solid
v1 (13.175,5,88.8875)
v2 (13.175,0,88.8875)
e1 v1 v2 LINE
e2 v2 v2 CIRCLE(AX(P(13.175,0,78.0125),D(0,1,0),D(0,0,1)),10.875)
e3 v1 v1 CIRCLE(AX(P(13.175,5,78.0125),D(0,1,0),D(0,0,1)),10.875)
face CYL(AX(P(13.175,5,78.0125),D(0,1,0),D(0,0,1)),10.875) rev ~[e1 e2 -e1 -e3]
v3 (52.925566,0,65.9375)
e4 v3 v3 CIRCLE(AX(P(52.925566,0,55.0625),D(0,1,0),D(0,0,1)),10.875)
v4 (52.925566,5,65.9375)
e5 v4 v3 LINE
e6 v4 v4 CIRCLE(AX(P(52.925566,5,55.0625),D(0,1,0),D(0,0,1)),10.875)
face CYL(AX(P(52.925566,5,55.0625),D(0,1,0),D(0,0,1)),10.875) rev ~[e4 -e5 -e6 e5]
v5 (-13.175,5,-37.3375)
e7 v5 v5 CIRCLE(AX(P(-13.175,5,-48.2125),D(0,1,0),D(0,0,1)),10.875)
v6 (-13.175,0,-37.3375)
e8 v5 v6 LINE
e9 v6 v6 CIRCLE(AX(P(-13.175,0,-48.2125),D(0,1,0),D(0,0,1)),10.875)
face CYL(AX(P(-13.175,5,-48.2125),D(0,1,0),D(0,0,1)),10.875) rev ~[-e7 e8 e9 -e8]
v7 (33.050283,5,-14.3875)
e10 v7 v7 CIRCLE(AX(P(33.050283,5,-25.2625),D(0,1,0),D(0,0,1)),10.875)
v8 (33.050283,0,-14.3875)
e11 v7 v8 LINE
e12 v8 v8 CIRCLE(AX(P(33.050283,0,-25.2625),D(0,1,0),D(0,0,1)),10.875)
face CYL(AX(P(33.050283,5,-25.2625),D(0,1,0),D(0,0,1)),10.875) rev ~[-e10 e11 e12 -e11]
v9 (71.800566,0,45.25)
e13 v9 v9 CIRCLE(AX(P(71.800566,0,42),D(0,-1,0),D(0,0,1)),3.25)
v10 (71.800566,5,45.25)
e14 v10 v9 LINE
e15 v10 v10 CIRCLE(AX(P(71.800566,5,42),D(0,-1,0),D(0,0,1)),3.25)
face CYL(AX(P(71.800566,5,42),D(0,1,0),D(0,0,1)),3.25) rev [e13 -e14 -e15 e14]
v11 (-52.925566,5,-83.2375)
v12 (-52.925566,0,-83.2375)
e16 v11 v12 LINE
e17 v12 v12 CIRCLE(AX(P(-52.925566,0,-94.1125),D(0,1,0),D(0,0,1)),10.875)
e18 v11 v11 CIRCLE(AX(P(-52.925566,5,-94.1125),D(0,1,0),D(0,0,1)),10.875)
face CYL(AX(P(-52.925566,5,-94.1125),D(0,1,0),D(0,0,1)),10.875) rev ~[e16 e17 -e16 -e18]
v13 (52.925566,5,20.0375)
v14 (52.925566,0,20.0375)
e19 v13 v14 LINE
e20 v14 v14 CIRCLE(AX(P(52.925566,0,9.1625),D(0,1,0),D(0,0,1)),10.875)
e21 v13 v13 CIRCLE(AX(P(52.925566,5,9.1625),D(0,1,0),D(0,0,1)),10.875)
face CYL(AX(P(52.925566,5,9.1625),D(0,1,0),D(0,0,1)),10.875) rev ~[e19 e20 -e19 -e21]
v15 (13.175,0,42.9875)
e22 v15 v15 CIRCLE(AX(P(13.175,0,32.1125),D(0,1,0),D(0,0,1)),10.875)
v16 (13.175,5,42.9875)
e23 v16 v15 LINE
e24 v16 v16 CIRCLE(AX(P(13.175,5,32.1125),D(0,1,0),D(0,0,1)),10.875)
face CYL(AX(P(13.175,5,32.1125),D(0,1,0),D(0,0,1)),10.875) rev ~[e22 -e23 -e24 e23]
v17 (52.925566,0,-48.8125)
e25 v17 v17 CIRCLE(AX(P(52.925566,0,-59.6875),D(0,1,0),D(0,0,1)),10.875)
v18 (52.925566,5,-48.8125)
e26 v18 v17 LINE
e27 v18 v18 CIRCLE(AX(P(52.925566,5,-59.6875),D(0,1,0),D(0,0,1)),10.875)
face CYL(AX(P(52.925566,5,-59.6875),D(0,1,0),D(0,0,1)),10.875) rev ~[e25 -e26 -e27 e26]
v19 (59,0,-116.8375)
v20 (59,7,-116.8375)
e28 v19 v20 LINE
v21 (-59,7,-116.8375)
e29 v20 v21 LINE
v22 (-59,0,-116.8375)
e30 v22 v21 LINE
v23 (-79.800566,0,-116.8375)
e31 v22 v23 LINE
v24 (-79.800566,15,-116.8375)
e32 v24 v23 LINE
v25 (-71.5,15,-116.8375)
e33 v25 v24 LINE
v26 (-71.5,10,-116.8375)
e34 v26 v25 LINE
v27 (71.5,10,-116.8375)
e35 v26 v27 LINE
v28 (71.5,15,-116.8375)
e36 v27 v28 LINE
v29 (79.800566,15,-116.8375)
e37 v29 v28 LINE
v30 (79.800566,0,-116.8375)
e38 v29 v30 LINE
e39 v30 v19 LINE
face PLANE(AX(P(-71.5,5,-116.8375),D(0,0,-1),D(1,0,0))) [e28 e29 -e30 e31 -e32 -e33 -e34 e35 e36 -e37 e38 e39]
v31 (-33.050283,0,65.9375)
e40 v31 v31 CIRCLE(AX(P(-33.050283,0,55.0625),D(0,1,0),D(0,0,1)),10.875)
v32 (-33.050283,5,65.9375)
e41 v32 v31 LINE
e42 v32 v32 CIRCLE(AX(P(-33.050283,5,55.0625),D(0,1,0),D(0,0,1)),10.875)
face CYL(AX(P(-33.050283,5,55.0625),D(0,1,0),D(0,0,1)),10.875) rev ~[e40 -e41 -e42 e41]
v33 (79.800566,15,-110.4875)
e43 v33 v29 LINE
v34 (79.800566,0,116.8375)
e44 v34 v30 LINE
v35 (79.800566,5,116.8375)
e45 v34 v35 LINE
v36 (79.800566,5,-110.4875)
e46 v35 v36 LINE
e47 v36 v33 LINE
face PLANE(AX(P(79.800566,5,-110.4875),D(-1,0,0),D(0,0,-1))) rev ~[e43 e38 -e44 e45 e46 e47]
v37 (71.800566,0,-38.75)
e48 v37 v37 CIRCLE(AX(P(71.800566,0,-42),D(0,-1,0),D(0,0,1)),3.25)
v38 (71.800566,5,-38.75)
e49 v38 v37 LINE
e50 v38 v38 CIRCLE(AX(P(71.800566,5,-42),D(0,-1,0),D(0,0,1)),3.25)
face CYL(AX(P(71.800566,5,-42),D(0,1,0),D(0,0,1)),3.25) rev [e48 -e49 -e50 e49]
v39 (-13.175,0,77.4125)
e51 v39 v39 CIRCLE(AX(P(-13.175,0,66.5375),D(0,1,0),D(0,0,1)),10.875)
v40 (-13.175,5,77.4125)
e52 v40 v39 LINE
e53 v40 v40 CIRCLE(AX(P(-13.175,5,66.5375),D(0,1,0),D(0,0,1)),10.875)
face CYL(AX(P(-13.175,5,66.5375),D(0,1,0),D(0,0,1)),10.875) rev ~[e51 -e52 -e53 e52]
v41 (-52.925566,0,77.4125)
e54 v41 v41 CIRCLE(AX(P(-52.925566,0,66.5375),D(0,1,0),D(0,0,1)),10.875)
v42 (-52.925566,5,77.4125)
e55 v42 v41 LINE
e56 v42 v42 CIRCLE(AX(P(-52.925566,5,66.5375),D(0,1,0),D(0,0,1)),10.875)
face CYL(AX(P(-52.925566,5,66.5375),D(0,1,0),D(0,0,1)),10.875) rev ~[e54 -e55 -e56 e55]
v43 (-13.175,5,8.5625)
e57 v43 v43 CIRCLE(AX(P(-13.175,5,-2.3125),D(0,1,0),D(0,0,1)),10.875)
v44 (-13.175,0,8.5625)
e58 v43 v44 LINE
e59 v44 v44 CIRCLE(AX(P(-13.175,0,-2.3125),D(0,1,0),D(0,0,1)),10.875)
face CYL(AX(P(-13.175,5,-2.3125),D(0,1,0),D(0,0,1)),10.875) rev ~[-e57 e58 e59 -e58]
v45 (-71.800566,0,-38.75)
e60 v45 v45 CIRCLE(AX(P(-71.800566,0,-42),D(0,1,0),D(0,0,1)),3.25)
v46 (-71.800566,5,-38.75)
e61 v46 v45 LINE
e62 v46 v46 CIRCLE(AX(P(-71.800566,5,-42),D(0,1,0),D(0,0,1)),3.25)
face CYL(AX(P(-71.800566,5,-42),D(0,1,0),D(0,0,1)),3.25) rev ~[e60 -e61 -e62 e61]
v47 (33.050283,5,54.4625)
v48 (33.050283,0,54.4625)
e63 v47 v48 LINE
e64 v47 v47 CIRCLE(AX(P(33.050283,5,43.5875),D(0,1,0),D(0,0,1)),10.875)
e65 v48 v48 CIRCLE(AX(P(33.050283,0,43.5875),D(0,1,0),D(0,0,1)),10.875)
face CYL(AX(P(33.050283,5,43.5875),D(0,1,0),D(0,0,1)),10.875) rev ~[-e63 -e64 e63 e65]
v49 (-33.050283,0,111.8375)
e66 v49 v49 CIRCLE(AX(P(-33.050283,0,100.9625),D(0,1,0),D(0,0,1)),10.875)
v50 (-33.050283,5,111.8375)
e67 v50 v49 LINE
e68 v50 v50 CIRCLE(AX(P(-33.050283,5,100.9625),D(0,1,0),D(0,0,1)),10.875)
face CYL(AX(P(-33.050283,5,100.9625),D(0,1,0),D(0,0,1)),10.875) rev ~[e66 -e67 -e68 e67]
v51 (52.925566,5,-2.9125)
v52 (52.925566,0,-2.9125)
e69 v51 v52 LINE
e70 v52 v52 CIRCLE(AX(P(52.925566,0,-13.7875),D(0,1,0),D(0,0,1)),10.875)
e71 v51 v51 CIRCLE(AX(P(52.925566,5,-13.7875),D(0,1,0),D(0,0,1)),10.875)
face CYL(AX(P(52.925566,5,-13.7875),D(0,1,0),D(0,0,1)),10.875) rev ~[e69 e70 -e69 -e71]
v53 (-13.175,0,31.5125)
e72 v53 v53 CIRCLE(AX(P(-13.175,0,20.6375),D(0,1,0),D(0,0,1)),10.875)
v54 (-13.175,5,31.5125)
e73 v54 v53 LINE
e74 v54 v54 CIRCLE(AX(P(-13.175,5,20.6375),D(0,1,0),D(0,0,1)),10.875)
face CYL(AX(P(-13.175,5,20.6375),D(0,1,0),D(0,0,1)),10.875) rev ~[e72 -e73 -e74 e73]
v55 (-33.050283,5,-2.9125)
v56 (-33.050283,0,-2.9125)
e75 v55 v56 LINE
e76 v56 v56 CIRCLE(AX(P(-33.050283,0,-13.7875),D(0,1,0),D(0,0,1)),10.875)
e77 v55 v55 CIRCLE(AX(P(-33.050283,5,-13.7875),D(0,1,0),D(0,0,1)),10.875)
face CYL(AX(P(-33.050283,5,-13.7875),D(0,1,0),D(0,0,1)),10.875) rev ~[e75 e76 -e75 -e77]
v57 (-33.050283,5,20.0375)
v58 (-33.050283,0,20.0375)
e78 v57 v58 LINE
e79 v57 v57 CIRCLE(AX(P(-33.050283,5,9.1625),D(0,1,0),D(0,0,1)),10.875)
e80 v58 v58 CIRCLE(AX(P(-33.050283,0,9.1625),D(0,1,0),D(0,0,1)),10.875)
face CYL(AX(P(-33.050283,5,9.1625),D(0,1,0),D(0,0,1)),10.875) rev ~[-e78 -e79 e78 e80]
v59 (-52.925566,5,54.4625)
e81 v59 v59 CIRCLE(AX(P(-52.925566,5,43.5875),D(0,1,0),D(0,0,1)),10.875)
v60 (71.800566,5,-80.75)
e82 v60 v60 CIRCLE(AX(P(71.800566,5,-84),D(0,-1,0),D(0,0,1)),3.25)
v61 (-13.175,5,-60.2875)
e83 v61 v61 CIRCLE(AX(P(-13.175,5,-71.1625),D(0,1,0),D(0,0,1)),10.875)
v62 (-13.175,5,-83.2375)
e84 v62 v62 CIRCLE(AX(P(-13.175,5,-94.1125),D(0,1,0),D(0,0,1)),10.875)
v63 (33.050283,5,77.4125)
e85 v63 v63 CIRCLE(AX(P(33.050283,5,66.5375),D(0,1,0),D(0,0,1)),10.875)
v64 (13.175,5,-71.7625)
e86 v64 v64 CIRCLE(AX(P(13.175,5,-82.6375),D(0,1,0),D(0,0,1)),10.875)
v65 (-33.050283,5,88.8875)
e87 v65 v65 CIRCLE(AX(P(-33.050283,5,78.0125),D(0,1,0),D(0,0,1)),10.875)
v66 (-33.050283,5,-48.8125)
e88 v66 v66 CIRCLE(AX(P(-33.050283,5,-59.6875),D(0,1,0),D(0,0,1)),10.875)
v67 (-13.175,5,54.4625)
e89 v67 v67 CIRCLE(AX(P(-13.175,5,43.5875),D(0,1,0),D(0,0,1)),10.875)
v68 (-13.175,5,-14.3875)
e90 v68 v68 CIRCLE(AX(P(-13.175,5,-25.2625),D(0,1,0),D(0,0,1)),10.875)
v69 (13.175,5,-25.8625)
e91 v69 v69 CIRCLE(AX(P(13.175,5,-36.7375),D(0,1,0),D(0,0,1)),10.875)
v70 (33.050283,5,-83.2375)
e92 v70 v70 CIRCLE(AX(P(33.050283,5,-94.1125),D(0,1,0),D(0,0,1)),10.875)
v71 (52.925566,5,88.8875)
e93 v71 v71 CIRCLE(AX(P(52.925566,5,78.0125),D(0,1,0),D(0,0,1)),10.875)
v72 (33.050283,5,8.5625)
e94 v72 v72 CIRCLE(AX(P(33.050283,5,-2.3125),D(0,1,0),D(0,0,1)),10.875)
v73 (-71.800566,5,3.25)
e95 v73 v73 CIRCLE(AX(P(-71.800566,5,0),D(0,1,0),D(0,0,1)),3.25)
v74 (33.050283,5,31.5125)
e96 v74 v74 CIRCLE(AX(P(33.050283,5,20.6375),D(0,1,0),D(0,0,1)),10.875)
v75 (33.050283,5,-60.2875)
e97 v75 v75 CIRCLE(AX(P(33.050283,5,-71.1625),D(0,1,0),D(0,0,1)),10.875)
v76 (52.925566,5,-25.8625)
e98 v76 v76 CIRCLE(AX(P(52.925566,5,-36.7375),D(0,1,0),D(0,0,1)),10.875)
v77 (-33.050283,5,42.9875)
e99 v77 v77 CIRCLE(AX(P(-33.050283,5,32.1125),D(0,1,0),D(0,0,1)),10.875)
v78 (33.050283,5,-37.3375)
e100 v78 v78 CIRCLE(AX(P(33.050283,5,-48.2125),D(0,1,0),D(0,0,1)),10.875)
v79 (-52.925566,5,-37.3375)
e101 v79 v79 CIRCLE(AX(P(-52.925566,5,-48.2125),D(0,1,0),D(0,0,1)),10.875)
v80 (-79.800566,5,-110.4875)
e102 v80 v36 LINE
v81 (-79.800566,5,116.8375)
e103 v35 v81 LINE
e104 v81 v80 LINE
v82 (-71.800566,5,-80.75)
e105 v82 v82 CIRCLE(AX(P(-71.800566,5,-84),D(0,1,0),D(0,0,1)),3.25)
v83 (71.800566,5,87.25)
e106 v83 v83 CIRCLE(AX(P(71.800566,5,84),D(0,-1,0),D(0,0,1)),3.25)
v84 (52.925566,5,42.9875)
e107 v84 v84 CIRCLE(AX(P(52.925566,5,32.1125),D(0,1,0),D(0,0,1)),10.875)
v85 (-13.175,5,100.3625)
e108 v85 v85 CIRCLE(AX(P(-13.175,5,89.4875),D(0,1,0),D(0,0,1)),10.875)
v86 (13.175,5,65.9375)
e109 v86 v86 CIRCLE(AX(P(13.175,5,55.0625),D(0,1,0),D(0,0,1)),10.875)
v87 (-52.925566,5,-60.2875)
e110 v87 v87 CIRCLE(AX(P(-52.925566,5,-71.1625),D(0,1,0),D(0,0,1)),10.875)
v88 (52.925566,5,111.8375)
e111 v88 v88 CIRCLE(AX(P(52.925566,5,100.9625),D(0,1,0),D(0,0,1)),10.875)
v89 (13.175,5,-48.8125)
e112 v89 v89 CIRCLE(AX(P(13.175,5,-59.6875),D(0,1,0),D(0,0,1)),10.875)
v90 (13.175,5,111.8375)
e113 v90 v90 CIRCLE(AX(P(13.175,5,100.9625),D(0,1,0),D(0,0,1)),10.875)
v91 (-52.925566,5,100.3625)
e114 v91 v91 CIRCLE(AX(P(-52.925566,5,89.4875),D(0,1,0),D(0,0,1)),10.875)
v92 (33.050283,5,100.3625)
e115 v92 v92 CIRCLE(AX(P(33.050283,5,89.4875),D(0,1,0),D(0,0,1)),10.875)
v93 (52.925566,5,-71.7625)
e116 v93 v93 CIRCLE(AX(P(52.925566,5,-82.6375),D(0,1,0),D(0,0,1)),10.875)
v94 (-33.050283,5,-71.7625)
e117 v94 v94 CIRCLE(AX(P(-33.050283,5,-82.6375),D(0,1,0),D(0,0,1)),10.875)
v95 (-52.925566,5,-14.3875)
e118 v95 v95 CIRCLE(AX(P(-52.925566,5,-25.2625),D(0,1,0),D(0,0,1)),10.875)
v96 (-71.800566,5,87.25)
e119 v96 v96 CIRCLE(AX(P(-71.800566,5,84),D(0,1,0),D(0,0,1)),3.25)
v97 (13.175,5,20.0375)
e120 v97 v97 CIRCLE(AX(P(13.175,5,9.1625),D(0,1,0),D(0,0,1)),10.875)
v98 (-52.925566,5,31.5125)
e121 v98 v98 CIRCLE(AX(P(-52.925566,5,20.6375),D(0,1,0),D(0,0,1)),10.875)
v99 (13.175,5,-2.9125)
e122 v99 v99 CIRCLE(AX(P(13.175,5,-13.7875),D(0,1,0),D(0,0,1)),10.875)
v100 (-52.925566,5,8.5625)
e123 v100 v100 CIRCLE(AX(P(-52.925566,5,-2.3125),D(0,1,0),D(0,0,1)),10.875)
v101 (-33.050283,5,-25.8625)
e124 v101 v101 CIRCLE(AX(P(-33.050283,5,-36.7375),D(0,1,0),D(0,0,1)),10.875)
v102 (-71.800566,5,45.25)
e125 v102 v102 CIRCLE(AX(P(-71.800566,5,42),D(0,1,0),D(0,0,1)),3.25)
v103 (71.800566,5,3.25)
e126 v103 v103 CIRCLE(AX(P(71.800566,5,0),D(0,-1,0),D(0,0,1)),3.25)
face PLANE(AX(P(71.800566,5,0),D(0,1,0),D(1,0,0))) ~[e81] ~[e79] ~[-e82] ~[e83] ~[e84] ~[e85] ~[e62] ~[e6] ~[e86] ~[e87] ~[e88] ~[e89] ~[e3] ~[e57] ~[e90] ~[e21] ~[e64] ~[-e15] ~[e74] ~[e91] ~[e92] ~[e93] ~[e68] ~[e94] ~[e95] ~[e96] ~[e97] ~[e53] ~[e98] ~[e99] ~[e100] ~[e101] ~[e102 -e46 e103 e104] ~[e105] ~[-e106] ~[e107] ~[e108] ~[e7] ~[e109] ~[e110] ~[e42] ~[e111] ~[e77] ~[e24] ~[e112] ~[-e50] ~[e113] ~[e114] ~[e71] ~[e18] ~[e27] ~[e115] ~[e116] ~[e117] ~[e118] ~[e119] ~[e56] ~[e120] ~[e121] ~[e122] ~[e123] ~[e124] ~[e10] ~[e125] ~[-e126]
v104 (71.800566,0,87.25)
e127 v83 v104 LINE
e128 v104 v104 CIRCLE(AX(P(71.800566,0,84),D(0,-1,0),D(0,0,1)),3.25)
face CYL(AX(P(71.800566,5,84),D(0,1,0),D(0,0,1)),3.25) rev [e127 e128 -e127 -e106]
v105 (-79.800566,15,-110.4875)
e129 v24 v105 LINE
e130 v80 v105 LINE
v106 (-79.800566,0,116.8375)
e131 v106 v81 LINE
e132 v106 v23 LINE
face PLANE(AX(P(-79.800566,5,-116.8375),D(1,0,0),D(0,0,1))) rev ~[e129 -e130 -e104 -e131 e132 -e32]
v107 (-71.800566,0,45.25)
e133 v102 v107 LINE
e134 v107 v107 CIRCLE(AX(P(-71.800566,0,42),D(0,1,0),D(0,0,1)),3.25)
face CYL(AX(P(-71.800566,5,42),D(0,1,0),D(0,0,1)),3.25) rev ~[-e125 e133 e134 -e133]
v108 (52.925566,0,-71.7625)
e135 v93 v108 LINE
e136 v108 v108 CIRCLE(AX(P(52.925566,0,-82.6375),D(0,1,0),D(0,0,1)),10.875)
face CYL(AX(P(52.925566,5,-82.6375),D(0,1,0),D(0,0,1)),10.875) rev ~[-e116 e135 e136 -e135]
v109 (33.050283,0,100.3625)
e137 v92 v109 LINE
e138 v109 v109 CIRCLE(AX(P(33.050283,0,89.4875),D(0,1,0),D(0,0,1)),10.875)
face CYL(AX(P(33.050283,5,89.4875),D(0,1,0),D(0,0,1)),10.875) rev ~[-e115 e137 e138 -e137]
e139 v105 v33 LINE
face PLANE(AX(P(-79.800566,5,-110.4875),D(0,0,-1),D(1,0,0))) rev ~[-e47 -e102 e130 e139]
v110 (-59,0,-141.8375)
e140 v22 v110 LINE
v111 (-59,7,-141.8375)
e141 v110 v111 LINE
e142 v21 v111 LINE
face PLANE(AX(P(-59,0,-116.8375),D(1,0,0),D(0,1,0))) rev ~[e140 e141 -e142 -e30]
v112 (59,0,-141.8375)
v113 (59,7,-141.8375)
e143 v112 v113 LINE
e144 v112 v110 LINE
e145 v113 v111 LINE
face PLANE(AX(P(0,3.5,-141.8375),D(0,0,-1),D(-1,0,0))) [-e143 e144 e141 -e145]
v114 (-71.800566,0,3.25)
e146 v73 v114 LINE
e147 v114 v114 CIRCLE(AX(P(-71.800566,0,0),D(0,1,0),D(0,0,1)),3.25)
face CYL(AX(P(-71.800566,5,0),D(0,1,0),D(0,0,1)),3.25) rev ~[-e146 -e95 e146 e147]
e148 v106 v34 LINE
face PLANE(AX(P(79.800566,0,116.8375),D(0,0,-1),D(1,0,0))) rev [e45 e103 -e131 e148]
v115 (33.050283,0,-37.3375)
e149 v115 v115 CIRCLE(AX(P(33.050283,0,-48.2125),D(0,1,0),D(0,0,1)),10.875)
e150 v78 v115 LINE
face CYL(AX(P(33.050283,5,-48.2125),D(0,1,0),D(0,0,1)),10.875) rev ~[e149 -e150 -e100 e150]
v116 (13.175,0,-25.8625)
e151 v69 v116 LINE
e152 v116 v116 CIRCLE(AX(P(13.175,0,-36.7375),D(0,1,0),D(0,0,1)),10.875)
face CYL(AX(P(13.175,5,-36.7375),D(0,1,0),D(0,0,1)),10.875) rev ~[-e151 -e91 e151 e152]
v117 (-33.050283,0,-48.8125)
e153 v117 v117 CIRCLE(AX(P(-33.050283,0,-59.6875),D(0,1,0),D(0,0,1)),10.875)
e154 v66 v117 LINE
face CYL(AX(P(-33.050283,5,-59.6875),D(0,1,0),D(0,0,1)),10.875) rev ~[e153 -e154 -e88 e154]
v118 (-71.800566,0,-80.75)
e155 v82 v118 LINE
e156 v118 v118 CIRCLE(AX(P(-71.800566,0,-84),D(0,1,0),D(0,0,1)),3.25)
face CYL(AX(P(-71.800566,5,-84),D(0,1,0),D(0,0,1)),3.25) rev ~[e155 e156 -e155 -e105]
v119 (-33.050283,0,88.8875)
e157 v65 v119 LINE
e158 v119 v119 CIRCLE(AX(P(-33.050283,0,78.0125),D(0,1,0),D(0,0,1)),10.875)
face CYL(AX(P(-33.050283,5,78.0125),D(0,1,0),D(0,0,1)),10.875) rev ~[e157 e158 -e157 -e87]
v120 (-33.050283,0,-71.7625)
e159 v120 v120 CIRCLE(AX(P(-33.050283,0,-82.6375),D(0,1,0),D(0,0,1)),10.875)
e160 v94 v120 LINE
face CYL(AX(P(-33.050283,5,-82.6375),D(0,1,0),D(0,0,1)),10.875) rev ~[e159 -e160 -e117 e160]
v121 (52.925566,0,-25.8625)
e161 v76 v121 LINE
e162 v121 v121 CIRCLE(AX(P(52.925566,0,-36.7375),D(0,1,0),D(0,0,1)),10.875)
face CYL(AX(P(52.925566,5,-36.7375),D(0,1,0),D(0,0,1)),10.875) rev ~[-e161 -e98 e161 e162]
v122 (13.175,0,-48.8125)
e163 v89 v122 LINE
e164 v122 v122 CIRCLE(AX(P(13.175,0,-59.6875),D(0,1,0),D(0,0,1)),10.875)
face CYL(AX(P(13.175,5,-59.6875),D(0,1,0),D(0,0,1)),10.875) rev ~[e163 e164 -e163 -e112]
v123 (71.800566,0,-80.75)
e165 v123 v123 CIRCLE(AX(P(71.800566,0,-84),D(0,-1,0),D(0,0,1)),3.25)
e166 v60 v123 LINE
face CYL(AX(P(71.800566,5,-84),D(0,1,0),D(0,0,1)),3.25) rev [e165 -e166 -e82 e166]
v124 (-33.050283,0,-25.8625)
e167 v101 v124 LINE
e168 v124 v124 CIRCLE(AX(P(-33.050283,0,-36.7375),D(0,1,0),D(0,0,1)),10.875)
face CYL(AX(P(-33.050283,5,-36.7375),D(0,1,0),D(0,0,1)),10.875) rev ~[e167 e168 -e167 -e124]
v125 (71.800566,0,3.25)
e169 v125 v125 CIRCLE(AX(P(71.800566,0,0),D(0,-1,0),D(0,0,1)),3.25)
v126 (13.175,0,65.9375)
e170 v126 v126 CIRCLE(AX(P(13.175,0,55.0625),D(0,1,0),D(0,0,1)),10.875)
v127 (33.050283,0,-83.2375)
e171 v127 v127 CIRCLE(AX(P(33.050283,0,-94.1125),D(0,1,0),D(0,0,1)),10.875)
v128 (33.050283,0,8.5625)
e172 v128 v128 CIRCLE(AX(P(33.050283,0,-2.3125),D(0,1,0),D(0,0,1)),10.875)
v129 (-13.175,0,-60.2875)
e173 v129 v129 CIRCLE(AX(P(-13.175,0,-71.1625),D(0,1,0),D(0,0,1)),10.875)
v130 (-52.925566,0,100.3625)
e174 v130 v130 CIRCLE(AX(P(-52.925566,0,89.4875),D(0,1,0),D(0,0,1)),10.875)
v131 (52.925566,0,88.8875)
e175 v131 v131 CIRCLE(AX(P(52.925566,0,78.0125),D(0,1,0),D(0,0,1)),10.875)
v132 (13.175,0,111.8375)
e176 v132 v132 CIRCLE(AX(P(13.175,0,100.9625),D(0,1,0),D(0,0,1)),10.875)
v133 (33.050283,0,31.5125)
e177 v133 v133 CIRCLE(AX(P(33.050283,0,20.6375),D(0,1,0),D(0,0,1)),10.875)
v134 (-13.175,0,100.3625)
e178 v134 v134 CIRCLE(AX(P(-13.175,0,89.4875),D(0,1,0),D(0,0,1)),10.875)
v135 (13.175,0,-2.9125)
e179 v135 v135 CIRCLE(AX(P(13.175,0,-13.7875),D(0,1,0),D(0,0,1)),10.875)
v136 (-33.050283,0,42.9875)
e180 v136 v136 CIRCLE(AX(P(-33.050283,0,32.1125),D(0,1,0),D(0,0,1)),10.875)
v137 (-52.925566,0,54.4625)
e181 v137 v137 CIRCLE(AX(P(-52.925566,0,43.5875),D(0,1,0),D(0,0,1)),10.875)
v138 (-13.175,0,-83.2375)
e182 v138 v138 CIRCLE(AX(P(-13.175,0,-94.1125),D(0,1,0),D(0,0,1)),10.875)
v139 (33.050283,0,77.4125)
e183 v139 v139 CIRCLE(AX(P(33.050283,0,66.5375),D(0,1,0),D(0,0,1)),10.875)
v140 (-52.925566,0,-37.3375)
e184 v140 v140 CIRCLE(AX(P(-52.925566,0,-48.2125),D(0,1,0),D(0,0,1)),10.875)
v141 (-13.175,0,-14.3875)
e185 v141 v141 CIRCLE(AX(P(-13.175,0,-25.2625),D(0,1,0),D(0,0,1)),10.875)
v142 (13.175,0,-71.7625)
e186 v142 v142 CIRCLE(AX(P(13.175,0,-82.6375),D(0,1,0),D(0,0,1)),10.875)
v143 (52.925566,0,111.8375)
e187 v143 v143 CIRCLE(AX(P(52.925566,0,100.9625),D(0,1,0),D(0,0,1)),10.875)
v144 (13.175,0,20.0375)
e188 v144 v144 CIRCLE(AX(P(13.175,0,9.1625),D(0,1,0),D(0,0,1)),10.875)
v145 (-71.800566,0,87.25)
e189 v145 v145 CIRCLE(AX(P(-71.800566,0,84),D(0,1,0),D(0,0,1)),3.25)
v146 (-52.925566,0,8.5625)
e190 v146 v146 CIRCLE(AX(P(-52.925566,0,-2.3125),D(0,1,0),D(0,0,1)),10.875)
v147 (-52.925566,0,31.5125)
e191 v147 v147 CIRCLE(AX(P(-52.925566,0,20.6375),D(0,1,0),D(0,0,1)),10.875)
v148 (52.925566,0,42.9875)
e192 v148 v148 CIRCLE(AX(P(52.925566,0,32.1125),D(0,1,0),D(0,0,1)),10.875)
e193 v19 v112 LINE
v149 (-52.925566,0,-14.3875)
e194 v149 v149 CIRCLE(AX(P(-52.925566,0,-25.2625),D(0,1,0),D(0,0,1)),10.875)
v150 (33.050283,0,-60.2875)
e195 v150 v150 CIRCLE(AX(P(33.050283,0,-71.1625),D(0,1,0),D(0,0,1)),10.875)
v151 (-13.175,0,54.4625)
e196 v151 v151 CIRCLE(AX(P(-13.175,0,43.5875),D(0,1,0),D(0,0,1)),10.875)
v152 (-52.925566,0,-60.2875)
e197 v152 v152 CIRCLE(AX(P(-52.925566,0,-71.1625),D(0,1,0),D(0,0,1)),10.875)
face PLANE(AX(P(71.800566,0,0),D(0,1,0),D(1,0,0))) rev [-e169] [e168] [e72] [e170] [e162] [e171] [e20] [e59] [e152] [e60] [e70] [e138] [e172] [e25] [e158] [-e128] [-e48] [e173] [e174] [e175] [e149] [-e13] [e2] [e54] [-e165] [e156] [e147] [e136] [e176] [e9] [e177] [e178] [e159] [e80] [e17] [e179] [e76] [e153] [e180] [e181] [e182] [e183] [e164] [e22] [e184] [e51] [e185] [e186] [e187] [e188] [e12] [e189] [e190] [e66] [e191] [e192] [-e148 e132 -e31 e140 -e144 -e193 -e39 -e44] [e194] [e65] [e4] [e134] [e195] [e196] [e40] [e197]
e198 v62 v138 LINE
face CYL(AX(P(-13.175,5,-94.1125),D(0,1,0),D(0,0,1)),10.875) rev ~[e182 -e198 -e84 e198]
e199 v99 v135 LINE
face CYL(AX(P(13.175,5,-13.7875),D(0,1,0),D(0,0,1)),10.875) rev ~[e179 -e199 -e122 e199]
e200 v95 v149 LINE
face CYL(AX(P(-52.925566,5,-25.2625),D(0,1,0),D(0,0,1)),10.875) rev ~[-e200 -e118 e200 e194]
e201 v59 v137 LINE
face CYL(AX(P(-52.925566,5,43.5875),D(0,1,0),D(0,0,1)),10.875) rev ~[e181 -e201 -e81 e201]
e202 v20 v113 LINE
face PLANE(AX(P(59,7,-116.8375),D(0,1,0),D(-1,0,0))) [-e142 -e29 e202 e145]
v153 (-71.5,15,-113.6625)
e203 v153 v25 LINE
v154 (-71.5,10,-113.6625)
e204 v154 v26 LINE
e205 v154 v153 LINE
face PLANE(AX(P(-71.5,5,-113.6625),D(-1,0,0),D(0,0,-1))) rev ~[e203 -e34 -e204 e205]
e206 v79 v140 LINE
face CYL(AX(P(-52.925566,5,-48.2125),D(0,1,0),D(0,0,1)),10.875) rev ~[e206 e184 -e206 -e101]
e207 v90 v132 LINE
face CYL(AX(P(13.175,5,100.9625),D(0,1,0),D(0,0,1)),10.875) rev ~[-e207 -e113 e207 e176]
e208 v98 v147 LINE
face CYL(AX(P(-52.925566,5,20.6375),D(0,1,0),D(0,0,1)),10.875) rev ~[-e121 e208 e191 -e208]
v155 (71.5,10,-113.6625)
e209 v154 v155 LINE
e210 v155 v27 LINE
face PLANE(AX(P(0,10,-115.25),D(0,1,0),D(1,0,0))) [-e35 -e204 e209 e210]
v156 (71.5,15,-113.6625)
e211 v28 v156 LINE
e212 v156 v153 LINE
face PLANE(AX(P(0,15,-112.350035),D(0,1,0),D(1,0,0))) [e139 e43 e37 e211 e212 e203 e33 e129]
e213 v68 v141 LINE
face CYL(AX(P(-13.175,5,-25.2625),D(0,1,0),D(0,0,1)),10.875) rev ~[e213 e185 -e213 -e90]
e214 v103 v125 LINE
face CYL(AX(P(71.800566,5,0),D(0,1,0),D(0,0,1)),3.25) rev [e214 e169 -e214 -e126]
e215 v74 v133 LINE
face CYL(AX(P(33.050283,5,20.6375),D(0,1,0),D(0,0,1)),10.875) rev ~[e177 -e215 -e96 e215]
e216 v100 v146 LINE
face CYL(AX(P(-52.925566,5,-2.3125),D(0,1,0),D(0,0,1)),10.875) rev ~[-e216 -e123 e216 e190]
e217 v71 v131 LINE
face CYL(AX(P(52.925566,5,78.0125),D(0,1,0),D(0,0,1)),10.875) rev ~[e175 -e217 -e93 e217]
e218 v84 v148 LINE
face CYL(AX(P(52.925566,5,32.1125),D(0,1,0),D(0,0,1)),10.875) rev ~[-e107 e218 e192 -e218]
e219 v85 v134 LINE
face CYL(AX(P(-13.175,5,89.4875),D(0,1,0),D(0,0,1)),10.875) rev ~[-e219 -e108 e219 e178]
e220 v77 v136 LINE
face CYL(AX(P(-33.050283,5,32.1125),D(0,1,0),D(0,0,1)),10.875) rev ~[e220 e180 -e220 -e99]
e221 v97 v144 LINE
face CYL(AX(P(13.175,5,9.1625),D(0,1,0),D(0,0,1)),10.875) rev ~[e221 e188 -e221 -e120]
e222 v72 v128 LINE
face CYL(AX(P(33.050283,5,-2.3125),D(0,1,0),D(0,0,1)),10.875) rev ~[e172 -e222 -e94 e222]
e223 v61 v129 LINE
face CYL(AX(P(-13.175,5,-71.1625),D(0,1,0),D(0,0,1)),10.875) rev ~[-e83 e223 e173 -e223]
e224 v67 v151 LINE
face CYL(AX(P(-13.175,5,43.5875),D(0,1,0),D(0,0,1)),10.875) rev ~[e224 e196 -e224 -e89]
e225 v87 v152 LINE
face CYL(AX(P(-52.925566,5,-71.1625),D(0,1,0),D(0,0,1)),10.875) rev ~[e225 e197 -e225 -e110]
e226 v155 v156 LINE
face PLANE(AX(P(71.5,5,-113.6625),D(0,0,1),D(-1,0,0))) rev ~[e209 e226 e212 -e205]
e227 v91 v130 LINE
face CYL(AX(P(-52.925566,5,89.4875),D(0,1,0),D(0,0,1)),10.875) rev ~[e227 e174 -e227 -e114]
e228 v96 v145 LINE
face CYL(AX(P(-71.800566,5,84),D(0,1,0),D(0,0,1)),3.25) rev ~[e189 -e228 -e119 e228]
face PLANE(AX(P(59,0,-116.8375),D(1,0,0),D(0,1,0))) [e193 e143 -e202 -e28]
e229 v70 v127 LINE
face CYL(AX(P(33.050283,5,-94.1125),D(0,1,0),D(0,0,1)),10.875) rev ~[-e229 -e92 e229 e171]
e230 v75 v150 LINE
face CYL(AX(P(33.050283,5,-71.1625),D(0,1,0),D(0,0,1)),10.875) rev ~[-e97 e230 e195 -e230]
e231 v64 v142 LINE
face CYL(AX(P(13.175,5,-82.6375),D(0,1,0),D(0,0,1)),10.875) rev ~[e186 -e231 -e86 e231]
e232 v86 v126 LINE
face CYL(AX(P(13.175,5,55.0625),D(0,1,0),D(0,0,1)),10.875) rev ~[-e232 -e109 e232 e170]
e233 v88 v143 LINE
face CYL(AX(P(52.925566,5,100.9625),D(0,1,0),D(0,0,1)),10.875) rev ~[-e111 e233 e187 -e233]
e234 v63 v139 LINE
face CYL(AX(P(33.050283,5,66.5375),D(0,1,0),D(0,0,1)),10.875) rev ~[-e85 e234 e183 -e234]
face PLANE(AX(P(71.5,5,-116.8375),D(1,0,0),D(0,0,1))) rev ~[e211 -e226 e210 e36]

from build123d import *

# Parameters (mm, degrees)
CELL_BLOCK_SKETCH_W = 127.601132068
CELL_BLOCK_SKETCH_H = 233.675
BOSS_EXTRUDE1_DEPTH = 5
SKETCH3_W           = 16
SKETCH3_H           = 233.675
BOSS_EXTRUDE3_DEPTH = 5
SKETCH4_R           = 3.25
CUT_EXTRUDE3_DEPTH  = 5
SKETCH6_R           = 10.875
CUT_EXTRUDE4_DEPTH  = 5
BOSS_EXTRUDE4_DEPTH = 10
SKETCH8_W           = 143
SKETCH8_H           = 3.175
BOSS_EXTRUDE5_DEPTH = 5
SKETCH9_W           = 118
SKETCH9_H           = 7
BOSS_EXTRUDE6_DEPTH = 25


with BuildPart() as part:
    # Cell Block Sketch → Boss-Extrude1 (new body)
    with BuildSketch(Plane(origin=(0, 0, 0), x_dir=(1, 0, 0), z_dir=(0, 1, 0))):
        Rectangle(CELL_BLOCK_SKETCH_W, CELL_BLOCK_SKETCH_H)
    extrude(amount=BOSS_EXTRUDE1_DEPTH)

    # Sketch3 → Boss-Extrude3 (add)
    with BuildSketch(Plane(origin=(0, 0, 0), x_dir=(1, 0, 0), z_dir=(0, 1, 0))):
        with Locations((-71.800566034, 0)):
            Rectangle(SKETCH3_W, SKETCH3_H)
    boss_extrude3 = extrude(amount=BOSS_EXTRUDE3_DEPTH)

    # Mirror1: Boss-Extrude3 across plane
    add(boss_extrude3.mirror(Plane(origin=(0, 0, 0), x_dir=(0, 0, 1), z_dir=(1, 0, 0))))

    # Sketch4 → Cut-Extrude3 (cut)
    with BuildSketch(Plane(origin=(0, 5, 0), x_dir=(1, 0, 0), z_dir=(0, 1, 0))):
        with Locations(Location((-71.800566034, 0, 0), (0, 0, 270))):
            Circle(SKETCH4_R)
        with Locations(Location((-71.800566034, -42, 0), (0, 0, 270))):
            Circle(SKETCH4_R)
        with Locations(Location((-71.800566034, -84, 0), (0, 0, 270))):
            Circle(SKETCH4_R)
        with Locations(Location((-71.800566034, 42, 0), (0, 0, 270))):
            Circle(SKETCH4_R)
        with Locations(Location((-71.800566034, 84, 0), (0, 0, 270))):
            Circle(SKETCH4_R)
    cut_extrude3 = extrude(amount=-CUT_EXTRUDE3_DEPTH, mode=Mode.SUBTRACT)

    # Mirror2: Cut-Extrude3 across plane
    add(cut_extrude3.mirror(Plane(origin=(0, 0, 0), x_dir=(0, 0, 1), z_dir=(1, 0, 0))), mode=Mode.SUBTRACT)

    # Sketch6 → Cut-Extrude4 (cut)
    with BuildSketch(Plane(origin=(0, 5, 0), x_dir=(1, 0, 0), z_dir=(0, 1, 0))):
        with Locations(Location((-33.050283017, 82.6375, 0), (0, 0, 270))):
            Circle(SKETCH6_R)
        with Locations(Location((-52.925566034, 94.1125, 0), (0, 0, 270))):
            Circle(SKETCH6_R)
        with Locations(Location((-13.175, 94.1125, 0), (0, 0, 270))):
            Circle(SKETCH6_R)
        with Locations(Location((-52.925566034, 71.1625, 0), (0, 0, 270))):
            Circle(SKETCH6_R)
        with Locations(Location((-33.050283017, 59.6875, 0), (0, 0, 270))):
            Circle(SKETCH6_R)
        with Locations(Location((-13.175, 71.1625, 0), (0, 0, 270))):
            Circle(SKETCH6_R)
        with Locations(Location((-52.925566034, 48.2125, 0), (0, 0, 270))):
            Circle(SKETCH6_R)
        with Locations(Location((-33.050283017, 36.7375, 0), (0, 0, 270))):
            Circle(SKETCH6_R)
        with Locations(Location((-13.175, 48.2125, 0), (0, 0, 270))):
            Circle(SKETCH6_R)
        with Locations(Location((-52.925566034, 25.2625, 0), (0, 0, 270))):
            Circle(SKETCH6_R)
        with Locations(Location((-33.050283017, 13.7875, 0), (0, 0, 270))):
            Circle(SKETCH6_R)
        with Locations(Location((-13.175, 25.2625, 0), (0, 0, 270))):
            Circle(SKETCH6_R)
        with Locations(Location((-52.925566034, 2.3125, 0), (0, 0, 270))):
            Circle(SKETCH6_R)
        with Locations(Location((-33.050283017, -9.1625, 0), (0, 0, 270))):
            Circle(SKETCH6_R)
        with Locations(Location((-13.175, 2.3125, 0), (0, 0, 270))):
            Circle(SKETCH6_R)
        with Locations(Location((-52.925566034, -20.6375, 0), (0, 0, 270))):
            Circle(SKETCH6_R)
        with Locations(Location((-33.050283017, -32.1125, 0), (0, 0, 270))):
            Circle(SKETCH6_R)
        with Locations(Location((-13.175, -20.6375, 0), (0, 0, 270))):
            Circle(SKETCH6_R)
        with Locations(Location((-52.925566034, -43.5875, 0), (0, 0, 270))):
            Circle(SKETCH6_R)
        with Locations(Location((-33.050283017, -55.0625, 0), (0, 0, 270))):
            Circle(SKETCH6_R)
        with Locations(Location((-13.175, -43.5875, 0), (0, 0, 270))):
            Circle(SKETCH6_R)
        with Locations(Location((-52.925566034, -66.5375, 0), (0, 0, 270))):
            Circle(SKETCH6_R)
        with Locations(Location((-33.050283017, -78.0125, 0), (0, 0, 270))):
            Circle(SKETCH6_R)
        with Locations(Location((-13.175, -66.5375, 0), (0, 0, 270))):
            Circle(SKETCH6_R)
        with Locations(Location((-52.925566034, -89.4875, 0), (0, 0, 270))):
            Circle(SKETCH6_R)
        with Locations(Location((-33.050283017, -100.9625, 0), (0, 0, 270))):
            Circle(SKETCH6_R)
        with Locations(Location((-13.175, -89.4875, 0), (0, 0, 270))):
            Circle(SKETCH6_R)
        with Locations(Location((33.050283017, 94.1125, 0), (0, 0, 270))):
            Circle(SKETCH6_R)
        with Locations(Location((13.175, 82.6375, 0), (0, 0, 270))):
            Circle(SKETCH6_R)
        with Locations(Location((52.925566034, 82.6375, 0), (0, 0, 270))):
            Circle(SKETCH6_R)
        with Locations(Location((13.175, 59.6875, 0), (0, 0, 270))):
            Circle(SKETCH6_R)
        with Locations(Location((33.050283017, 71.1625, 0), (0, 0, 270))):
            Circle(SKETCH6_R)
        with Locations(Location((52.925566034, 59.6875, 0), (0, 0, 270))):
            Circle(SKETCH6_R)
        with Locations(Location((13.175, 36.7375, 0), (0, 0, 270))):
            Circle(SKETCH6_R)
        with Locations(Location((33.050283017, 48.2125, 0), (0, 0, 270))):
            Circle(SKETCH6_R)
        with Locations(Location((52.925566034, 36.7375, 0), (0, 0, 270))):
            Circle(SKETCH6_R)
        with Locations(Location((13.175, 13.7875, 0), (0, 0, 270))):
            Circle(SKETCH6_R)
        with Locations(Location((33.050283017, 25.2625, 0), (0, 0, 270))):
            Circle(SKETCH6_R)
        with Locations(Location((52.925566034, 13.7875, 0), (0, 0, 270))):
            Circle(SKETCH6_R)
        with Locations(Location((13.175, -9.1625, 0), (0, 0, 270))):
            Circle(SKETCH6_R)
        with Locations(Location((33.050283017, 2.3125, 0), (0, 0, 270))):
            Circle(SKETCH6_R)
        with Locations(Location((52.925566034, -9.1625, 0), (0, 0, 270))):
            Circle(SKETCH6_R)
        with Locations(Location((13.175, -32.1125, 0), (0, 0, 270))):
            Circle(SKETCH6_R)
        with Locations(Location((33.050283017, -20.6375, 0), (0, 0, 270))):
            Circle(SKETCH6_R)
        with Locations(Location((52.925566034, -32.1125, 0), (0, 0, 270))):
            Circle(SKETCH6_R)
        with Locations(Location((13.175, -55.0625, 0), (0, 0, 270))):
            Circle(SKETCH6_R)
        with Locations(Location((33.050283017, -43.5875, 0), (0, 0, 270))):
            Circle(SKETCH6_R)
        with Locations(Location((52.925566034, -55.0625, 0), (0, 0, 270))):
            Circle(SKETCH6_R)
        with Locations(Location((13.175, -78.0125, 0), (0, 0, 270))):
            Circle(SKETCH6_R)
        with Locations(Location((33.050283017, -66.5375, 0), (0, 0, 270))):
            Circle(SKETCH6_R)
        with Locations(Location((52.925566034, -78.0125, 0), (0, 0, 270))):
            Circle(SKETCH6_R)
        with Locations(Location((13.175, -100.9625, 0), (0, 0, 270))):
            Circle(SKETCH6_R)
        with Locations(Location((33.050283017, -89.4875, 0), (0, 0, 270))):
            Circle(SKETCH6_R)
        with Locations(Location((52.925566034, -100.9625, 0), (0, 0, 270))):
            Circle(SKETCH6_R)
    extrude(amount=-CUT_EXTRUDE4_DEPTH, mode=Mode.SUBTRACT)

    # Sketch7 → Boss-Extrude4 (add)
    with BuildSketch(Plane(origin=(0, 5, 0), x_dir=(1, 0, 0), z_dir=(0, 1, 0))):
        Polygon((-79.800566034, 116.8375), (-79.800566034, 110.4875), (79.800566034, 110.4875), (79.800566034, 116.8375), (71.5, 116.8375), (71.5, 113.6625), (-71.5, 113.6625), (-71.5, 116.8375), align=None)
    extrude(amount=BOSS_EXTRUDE4_DEPTH)

    # Sketch8 → Boss-Extrude5 (add)
    with BuildSketch(Plane(origin=(0, 5, 0), x_dir=(1, 0, 0), z_dir=(0, 1, 0))):
        with Locations((0, 115.25)):
            Rectangle(SKETCH8_W, SKETCH8_H)
    extrude(amount=BOSS_EXTRUDE5_DEPTH)

    # Sketch9 → Boss-Extrude6 (add)
    with BuildSketch(Plane(origin=(0, 0, -116.8375), x_dir=(-1, 0, 0), z_dir=(0, 0, -1))):
        with Locations((0, 3.5)):
            Rectangle(SKETCH9_W, SKETCH9_H)
    extrude(amount=BOSS_EXTRUDE6_DEPTH)


solid = part.part
